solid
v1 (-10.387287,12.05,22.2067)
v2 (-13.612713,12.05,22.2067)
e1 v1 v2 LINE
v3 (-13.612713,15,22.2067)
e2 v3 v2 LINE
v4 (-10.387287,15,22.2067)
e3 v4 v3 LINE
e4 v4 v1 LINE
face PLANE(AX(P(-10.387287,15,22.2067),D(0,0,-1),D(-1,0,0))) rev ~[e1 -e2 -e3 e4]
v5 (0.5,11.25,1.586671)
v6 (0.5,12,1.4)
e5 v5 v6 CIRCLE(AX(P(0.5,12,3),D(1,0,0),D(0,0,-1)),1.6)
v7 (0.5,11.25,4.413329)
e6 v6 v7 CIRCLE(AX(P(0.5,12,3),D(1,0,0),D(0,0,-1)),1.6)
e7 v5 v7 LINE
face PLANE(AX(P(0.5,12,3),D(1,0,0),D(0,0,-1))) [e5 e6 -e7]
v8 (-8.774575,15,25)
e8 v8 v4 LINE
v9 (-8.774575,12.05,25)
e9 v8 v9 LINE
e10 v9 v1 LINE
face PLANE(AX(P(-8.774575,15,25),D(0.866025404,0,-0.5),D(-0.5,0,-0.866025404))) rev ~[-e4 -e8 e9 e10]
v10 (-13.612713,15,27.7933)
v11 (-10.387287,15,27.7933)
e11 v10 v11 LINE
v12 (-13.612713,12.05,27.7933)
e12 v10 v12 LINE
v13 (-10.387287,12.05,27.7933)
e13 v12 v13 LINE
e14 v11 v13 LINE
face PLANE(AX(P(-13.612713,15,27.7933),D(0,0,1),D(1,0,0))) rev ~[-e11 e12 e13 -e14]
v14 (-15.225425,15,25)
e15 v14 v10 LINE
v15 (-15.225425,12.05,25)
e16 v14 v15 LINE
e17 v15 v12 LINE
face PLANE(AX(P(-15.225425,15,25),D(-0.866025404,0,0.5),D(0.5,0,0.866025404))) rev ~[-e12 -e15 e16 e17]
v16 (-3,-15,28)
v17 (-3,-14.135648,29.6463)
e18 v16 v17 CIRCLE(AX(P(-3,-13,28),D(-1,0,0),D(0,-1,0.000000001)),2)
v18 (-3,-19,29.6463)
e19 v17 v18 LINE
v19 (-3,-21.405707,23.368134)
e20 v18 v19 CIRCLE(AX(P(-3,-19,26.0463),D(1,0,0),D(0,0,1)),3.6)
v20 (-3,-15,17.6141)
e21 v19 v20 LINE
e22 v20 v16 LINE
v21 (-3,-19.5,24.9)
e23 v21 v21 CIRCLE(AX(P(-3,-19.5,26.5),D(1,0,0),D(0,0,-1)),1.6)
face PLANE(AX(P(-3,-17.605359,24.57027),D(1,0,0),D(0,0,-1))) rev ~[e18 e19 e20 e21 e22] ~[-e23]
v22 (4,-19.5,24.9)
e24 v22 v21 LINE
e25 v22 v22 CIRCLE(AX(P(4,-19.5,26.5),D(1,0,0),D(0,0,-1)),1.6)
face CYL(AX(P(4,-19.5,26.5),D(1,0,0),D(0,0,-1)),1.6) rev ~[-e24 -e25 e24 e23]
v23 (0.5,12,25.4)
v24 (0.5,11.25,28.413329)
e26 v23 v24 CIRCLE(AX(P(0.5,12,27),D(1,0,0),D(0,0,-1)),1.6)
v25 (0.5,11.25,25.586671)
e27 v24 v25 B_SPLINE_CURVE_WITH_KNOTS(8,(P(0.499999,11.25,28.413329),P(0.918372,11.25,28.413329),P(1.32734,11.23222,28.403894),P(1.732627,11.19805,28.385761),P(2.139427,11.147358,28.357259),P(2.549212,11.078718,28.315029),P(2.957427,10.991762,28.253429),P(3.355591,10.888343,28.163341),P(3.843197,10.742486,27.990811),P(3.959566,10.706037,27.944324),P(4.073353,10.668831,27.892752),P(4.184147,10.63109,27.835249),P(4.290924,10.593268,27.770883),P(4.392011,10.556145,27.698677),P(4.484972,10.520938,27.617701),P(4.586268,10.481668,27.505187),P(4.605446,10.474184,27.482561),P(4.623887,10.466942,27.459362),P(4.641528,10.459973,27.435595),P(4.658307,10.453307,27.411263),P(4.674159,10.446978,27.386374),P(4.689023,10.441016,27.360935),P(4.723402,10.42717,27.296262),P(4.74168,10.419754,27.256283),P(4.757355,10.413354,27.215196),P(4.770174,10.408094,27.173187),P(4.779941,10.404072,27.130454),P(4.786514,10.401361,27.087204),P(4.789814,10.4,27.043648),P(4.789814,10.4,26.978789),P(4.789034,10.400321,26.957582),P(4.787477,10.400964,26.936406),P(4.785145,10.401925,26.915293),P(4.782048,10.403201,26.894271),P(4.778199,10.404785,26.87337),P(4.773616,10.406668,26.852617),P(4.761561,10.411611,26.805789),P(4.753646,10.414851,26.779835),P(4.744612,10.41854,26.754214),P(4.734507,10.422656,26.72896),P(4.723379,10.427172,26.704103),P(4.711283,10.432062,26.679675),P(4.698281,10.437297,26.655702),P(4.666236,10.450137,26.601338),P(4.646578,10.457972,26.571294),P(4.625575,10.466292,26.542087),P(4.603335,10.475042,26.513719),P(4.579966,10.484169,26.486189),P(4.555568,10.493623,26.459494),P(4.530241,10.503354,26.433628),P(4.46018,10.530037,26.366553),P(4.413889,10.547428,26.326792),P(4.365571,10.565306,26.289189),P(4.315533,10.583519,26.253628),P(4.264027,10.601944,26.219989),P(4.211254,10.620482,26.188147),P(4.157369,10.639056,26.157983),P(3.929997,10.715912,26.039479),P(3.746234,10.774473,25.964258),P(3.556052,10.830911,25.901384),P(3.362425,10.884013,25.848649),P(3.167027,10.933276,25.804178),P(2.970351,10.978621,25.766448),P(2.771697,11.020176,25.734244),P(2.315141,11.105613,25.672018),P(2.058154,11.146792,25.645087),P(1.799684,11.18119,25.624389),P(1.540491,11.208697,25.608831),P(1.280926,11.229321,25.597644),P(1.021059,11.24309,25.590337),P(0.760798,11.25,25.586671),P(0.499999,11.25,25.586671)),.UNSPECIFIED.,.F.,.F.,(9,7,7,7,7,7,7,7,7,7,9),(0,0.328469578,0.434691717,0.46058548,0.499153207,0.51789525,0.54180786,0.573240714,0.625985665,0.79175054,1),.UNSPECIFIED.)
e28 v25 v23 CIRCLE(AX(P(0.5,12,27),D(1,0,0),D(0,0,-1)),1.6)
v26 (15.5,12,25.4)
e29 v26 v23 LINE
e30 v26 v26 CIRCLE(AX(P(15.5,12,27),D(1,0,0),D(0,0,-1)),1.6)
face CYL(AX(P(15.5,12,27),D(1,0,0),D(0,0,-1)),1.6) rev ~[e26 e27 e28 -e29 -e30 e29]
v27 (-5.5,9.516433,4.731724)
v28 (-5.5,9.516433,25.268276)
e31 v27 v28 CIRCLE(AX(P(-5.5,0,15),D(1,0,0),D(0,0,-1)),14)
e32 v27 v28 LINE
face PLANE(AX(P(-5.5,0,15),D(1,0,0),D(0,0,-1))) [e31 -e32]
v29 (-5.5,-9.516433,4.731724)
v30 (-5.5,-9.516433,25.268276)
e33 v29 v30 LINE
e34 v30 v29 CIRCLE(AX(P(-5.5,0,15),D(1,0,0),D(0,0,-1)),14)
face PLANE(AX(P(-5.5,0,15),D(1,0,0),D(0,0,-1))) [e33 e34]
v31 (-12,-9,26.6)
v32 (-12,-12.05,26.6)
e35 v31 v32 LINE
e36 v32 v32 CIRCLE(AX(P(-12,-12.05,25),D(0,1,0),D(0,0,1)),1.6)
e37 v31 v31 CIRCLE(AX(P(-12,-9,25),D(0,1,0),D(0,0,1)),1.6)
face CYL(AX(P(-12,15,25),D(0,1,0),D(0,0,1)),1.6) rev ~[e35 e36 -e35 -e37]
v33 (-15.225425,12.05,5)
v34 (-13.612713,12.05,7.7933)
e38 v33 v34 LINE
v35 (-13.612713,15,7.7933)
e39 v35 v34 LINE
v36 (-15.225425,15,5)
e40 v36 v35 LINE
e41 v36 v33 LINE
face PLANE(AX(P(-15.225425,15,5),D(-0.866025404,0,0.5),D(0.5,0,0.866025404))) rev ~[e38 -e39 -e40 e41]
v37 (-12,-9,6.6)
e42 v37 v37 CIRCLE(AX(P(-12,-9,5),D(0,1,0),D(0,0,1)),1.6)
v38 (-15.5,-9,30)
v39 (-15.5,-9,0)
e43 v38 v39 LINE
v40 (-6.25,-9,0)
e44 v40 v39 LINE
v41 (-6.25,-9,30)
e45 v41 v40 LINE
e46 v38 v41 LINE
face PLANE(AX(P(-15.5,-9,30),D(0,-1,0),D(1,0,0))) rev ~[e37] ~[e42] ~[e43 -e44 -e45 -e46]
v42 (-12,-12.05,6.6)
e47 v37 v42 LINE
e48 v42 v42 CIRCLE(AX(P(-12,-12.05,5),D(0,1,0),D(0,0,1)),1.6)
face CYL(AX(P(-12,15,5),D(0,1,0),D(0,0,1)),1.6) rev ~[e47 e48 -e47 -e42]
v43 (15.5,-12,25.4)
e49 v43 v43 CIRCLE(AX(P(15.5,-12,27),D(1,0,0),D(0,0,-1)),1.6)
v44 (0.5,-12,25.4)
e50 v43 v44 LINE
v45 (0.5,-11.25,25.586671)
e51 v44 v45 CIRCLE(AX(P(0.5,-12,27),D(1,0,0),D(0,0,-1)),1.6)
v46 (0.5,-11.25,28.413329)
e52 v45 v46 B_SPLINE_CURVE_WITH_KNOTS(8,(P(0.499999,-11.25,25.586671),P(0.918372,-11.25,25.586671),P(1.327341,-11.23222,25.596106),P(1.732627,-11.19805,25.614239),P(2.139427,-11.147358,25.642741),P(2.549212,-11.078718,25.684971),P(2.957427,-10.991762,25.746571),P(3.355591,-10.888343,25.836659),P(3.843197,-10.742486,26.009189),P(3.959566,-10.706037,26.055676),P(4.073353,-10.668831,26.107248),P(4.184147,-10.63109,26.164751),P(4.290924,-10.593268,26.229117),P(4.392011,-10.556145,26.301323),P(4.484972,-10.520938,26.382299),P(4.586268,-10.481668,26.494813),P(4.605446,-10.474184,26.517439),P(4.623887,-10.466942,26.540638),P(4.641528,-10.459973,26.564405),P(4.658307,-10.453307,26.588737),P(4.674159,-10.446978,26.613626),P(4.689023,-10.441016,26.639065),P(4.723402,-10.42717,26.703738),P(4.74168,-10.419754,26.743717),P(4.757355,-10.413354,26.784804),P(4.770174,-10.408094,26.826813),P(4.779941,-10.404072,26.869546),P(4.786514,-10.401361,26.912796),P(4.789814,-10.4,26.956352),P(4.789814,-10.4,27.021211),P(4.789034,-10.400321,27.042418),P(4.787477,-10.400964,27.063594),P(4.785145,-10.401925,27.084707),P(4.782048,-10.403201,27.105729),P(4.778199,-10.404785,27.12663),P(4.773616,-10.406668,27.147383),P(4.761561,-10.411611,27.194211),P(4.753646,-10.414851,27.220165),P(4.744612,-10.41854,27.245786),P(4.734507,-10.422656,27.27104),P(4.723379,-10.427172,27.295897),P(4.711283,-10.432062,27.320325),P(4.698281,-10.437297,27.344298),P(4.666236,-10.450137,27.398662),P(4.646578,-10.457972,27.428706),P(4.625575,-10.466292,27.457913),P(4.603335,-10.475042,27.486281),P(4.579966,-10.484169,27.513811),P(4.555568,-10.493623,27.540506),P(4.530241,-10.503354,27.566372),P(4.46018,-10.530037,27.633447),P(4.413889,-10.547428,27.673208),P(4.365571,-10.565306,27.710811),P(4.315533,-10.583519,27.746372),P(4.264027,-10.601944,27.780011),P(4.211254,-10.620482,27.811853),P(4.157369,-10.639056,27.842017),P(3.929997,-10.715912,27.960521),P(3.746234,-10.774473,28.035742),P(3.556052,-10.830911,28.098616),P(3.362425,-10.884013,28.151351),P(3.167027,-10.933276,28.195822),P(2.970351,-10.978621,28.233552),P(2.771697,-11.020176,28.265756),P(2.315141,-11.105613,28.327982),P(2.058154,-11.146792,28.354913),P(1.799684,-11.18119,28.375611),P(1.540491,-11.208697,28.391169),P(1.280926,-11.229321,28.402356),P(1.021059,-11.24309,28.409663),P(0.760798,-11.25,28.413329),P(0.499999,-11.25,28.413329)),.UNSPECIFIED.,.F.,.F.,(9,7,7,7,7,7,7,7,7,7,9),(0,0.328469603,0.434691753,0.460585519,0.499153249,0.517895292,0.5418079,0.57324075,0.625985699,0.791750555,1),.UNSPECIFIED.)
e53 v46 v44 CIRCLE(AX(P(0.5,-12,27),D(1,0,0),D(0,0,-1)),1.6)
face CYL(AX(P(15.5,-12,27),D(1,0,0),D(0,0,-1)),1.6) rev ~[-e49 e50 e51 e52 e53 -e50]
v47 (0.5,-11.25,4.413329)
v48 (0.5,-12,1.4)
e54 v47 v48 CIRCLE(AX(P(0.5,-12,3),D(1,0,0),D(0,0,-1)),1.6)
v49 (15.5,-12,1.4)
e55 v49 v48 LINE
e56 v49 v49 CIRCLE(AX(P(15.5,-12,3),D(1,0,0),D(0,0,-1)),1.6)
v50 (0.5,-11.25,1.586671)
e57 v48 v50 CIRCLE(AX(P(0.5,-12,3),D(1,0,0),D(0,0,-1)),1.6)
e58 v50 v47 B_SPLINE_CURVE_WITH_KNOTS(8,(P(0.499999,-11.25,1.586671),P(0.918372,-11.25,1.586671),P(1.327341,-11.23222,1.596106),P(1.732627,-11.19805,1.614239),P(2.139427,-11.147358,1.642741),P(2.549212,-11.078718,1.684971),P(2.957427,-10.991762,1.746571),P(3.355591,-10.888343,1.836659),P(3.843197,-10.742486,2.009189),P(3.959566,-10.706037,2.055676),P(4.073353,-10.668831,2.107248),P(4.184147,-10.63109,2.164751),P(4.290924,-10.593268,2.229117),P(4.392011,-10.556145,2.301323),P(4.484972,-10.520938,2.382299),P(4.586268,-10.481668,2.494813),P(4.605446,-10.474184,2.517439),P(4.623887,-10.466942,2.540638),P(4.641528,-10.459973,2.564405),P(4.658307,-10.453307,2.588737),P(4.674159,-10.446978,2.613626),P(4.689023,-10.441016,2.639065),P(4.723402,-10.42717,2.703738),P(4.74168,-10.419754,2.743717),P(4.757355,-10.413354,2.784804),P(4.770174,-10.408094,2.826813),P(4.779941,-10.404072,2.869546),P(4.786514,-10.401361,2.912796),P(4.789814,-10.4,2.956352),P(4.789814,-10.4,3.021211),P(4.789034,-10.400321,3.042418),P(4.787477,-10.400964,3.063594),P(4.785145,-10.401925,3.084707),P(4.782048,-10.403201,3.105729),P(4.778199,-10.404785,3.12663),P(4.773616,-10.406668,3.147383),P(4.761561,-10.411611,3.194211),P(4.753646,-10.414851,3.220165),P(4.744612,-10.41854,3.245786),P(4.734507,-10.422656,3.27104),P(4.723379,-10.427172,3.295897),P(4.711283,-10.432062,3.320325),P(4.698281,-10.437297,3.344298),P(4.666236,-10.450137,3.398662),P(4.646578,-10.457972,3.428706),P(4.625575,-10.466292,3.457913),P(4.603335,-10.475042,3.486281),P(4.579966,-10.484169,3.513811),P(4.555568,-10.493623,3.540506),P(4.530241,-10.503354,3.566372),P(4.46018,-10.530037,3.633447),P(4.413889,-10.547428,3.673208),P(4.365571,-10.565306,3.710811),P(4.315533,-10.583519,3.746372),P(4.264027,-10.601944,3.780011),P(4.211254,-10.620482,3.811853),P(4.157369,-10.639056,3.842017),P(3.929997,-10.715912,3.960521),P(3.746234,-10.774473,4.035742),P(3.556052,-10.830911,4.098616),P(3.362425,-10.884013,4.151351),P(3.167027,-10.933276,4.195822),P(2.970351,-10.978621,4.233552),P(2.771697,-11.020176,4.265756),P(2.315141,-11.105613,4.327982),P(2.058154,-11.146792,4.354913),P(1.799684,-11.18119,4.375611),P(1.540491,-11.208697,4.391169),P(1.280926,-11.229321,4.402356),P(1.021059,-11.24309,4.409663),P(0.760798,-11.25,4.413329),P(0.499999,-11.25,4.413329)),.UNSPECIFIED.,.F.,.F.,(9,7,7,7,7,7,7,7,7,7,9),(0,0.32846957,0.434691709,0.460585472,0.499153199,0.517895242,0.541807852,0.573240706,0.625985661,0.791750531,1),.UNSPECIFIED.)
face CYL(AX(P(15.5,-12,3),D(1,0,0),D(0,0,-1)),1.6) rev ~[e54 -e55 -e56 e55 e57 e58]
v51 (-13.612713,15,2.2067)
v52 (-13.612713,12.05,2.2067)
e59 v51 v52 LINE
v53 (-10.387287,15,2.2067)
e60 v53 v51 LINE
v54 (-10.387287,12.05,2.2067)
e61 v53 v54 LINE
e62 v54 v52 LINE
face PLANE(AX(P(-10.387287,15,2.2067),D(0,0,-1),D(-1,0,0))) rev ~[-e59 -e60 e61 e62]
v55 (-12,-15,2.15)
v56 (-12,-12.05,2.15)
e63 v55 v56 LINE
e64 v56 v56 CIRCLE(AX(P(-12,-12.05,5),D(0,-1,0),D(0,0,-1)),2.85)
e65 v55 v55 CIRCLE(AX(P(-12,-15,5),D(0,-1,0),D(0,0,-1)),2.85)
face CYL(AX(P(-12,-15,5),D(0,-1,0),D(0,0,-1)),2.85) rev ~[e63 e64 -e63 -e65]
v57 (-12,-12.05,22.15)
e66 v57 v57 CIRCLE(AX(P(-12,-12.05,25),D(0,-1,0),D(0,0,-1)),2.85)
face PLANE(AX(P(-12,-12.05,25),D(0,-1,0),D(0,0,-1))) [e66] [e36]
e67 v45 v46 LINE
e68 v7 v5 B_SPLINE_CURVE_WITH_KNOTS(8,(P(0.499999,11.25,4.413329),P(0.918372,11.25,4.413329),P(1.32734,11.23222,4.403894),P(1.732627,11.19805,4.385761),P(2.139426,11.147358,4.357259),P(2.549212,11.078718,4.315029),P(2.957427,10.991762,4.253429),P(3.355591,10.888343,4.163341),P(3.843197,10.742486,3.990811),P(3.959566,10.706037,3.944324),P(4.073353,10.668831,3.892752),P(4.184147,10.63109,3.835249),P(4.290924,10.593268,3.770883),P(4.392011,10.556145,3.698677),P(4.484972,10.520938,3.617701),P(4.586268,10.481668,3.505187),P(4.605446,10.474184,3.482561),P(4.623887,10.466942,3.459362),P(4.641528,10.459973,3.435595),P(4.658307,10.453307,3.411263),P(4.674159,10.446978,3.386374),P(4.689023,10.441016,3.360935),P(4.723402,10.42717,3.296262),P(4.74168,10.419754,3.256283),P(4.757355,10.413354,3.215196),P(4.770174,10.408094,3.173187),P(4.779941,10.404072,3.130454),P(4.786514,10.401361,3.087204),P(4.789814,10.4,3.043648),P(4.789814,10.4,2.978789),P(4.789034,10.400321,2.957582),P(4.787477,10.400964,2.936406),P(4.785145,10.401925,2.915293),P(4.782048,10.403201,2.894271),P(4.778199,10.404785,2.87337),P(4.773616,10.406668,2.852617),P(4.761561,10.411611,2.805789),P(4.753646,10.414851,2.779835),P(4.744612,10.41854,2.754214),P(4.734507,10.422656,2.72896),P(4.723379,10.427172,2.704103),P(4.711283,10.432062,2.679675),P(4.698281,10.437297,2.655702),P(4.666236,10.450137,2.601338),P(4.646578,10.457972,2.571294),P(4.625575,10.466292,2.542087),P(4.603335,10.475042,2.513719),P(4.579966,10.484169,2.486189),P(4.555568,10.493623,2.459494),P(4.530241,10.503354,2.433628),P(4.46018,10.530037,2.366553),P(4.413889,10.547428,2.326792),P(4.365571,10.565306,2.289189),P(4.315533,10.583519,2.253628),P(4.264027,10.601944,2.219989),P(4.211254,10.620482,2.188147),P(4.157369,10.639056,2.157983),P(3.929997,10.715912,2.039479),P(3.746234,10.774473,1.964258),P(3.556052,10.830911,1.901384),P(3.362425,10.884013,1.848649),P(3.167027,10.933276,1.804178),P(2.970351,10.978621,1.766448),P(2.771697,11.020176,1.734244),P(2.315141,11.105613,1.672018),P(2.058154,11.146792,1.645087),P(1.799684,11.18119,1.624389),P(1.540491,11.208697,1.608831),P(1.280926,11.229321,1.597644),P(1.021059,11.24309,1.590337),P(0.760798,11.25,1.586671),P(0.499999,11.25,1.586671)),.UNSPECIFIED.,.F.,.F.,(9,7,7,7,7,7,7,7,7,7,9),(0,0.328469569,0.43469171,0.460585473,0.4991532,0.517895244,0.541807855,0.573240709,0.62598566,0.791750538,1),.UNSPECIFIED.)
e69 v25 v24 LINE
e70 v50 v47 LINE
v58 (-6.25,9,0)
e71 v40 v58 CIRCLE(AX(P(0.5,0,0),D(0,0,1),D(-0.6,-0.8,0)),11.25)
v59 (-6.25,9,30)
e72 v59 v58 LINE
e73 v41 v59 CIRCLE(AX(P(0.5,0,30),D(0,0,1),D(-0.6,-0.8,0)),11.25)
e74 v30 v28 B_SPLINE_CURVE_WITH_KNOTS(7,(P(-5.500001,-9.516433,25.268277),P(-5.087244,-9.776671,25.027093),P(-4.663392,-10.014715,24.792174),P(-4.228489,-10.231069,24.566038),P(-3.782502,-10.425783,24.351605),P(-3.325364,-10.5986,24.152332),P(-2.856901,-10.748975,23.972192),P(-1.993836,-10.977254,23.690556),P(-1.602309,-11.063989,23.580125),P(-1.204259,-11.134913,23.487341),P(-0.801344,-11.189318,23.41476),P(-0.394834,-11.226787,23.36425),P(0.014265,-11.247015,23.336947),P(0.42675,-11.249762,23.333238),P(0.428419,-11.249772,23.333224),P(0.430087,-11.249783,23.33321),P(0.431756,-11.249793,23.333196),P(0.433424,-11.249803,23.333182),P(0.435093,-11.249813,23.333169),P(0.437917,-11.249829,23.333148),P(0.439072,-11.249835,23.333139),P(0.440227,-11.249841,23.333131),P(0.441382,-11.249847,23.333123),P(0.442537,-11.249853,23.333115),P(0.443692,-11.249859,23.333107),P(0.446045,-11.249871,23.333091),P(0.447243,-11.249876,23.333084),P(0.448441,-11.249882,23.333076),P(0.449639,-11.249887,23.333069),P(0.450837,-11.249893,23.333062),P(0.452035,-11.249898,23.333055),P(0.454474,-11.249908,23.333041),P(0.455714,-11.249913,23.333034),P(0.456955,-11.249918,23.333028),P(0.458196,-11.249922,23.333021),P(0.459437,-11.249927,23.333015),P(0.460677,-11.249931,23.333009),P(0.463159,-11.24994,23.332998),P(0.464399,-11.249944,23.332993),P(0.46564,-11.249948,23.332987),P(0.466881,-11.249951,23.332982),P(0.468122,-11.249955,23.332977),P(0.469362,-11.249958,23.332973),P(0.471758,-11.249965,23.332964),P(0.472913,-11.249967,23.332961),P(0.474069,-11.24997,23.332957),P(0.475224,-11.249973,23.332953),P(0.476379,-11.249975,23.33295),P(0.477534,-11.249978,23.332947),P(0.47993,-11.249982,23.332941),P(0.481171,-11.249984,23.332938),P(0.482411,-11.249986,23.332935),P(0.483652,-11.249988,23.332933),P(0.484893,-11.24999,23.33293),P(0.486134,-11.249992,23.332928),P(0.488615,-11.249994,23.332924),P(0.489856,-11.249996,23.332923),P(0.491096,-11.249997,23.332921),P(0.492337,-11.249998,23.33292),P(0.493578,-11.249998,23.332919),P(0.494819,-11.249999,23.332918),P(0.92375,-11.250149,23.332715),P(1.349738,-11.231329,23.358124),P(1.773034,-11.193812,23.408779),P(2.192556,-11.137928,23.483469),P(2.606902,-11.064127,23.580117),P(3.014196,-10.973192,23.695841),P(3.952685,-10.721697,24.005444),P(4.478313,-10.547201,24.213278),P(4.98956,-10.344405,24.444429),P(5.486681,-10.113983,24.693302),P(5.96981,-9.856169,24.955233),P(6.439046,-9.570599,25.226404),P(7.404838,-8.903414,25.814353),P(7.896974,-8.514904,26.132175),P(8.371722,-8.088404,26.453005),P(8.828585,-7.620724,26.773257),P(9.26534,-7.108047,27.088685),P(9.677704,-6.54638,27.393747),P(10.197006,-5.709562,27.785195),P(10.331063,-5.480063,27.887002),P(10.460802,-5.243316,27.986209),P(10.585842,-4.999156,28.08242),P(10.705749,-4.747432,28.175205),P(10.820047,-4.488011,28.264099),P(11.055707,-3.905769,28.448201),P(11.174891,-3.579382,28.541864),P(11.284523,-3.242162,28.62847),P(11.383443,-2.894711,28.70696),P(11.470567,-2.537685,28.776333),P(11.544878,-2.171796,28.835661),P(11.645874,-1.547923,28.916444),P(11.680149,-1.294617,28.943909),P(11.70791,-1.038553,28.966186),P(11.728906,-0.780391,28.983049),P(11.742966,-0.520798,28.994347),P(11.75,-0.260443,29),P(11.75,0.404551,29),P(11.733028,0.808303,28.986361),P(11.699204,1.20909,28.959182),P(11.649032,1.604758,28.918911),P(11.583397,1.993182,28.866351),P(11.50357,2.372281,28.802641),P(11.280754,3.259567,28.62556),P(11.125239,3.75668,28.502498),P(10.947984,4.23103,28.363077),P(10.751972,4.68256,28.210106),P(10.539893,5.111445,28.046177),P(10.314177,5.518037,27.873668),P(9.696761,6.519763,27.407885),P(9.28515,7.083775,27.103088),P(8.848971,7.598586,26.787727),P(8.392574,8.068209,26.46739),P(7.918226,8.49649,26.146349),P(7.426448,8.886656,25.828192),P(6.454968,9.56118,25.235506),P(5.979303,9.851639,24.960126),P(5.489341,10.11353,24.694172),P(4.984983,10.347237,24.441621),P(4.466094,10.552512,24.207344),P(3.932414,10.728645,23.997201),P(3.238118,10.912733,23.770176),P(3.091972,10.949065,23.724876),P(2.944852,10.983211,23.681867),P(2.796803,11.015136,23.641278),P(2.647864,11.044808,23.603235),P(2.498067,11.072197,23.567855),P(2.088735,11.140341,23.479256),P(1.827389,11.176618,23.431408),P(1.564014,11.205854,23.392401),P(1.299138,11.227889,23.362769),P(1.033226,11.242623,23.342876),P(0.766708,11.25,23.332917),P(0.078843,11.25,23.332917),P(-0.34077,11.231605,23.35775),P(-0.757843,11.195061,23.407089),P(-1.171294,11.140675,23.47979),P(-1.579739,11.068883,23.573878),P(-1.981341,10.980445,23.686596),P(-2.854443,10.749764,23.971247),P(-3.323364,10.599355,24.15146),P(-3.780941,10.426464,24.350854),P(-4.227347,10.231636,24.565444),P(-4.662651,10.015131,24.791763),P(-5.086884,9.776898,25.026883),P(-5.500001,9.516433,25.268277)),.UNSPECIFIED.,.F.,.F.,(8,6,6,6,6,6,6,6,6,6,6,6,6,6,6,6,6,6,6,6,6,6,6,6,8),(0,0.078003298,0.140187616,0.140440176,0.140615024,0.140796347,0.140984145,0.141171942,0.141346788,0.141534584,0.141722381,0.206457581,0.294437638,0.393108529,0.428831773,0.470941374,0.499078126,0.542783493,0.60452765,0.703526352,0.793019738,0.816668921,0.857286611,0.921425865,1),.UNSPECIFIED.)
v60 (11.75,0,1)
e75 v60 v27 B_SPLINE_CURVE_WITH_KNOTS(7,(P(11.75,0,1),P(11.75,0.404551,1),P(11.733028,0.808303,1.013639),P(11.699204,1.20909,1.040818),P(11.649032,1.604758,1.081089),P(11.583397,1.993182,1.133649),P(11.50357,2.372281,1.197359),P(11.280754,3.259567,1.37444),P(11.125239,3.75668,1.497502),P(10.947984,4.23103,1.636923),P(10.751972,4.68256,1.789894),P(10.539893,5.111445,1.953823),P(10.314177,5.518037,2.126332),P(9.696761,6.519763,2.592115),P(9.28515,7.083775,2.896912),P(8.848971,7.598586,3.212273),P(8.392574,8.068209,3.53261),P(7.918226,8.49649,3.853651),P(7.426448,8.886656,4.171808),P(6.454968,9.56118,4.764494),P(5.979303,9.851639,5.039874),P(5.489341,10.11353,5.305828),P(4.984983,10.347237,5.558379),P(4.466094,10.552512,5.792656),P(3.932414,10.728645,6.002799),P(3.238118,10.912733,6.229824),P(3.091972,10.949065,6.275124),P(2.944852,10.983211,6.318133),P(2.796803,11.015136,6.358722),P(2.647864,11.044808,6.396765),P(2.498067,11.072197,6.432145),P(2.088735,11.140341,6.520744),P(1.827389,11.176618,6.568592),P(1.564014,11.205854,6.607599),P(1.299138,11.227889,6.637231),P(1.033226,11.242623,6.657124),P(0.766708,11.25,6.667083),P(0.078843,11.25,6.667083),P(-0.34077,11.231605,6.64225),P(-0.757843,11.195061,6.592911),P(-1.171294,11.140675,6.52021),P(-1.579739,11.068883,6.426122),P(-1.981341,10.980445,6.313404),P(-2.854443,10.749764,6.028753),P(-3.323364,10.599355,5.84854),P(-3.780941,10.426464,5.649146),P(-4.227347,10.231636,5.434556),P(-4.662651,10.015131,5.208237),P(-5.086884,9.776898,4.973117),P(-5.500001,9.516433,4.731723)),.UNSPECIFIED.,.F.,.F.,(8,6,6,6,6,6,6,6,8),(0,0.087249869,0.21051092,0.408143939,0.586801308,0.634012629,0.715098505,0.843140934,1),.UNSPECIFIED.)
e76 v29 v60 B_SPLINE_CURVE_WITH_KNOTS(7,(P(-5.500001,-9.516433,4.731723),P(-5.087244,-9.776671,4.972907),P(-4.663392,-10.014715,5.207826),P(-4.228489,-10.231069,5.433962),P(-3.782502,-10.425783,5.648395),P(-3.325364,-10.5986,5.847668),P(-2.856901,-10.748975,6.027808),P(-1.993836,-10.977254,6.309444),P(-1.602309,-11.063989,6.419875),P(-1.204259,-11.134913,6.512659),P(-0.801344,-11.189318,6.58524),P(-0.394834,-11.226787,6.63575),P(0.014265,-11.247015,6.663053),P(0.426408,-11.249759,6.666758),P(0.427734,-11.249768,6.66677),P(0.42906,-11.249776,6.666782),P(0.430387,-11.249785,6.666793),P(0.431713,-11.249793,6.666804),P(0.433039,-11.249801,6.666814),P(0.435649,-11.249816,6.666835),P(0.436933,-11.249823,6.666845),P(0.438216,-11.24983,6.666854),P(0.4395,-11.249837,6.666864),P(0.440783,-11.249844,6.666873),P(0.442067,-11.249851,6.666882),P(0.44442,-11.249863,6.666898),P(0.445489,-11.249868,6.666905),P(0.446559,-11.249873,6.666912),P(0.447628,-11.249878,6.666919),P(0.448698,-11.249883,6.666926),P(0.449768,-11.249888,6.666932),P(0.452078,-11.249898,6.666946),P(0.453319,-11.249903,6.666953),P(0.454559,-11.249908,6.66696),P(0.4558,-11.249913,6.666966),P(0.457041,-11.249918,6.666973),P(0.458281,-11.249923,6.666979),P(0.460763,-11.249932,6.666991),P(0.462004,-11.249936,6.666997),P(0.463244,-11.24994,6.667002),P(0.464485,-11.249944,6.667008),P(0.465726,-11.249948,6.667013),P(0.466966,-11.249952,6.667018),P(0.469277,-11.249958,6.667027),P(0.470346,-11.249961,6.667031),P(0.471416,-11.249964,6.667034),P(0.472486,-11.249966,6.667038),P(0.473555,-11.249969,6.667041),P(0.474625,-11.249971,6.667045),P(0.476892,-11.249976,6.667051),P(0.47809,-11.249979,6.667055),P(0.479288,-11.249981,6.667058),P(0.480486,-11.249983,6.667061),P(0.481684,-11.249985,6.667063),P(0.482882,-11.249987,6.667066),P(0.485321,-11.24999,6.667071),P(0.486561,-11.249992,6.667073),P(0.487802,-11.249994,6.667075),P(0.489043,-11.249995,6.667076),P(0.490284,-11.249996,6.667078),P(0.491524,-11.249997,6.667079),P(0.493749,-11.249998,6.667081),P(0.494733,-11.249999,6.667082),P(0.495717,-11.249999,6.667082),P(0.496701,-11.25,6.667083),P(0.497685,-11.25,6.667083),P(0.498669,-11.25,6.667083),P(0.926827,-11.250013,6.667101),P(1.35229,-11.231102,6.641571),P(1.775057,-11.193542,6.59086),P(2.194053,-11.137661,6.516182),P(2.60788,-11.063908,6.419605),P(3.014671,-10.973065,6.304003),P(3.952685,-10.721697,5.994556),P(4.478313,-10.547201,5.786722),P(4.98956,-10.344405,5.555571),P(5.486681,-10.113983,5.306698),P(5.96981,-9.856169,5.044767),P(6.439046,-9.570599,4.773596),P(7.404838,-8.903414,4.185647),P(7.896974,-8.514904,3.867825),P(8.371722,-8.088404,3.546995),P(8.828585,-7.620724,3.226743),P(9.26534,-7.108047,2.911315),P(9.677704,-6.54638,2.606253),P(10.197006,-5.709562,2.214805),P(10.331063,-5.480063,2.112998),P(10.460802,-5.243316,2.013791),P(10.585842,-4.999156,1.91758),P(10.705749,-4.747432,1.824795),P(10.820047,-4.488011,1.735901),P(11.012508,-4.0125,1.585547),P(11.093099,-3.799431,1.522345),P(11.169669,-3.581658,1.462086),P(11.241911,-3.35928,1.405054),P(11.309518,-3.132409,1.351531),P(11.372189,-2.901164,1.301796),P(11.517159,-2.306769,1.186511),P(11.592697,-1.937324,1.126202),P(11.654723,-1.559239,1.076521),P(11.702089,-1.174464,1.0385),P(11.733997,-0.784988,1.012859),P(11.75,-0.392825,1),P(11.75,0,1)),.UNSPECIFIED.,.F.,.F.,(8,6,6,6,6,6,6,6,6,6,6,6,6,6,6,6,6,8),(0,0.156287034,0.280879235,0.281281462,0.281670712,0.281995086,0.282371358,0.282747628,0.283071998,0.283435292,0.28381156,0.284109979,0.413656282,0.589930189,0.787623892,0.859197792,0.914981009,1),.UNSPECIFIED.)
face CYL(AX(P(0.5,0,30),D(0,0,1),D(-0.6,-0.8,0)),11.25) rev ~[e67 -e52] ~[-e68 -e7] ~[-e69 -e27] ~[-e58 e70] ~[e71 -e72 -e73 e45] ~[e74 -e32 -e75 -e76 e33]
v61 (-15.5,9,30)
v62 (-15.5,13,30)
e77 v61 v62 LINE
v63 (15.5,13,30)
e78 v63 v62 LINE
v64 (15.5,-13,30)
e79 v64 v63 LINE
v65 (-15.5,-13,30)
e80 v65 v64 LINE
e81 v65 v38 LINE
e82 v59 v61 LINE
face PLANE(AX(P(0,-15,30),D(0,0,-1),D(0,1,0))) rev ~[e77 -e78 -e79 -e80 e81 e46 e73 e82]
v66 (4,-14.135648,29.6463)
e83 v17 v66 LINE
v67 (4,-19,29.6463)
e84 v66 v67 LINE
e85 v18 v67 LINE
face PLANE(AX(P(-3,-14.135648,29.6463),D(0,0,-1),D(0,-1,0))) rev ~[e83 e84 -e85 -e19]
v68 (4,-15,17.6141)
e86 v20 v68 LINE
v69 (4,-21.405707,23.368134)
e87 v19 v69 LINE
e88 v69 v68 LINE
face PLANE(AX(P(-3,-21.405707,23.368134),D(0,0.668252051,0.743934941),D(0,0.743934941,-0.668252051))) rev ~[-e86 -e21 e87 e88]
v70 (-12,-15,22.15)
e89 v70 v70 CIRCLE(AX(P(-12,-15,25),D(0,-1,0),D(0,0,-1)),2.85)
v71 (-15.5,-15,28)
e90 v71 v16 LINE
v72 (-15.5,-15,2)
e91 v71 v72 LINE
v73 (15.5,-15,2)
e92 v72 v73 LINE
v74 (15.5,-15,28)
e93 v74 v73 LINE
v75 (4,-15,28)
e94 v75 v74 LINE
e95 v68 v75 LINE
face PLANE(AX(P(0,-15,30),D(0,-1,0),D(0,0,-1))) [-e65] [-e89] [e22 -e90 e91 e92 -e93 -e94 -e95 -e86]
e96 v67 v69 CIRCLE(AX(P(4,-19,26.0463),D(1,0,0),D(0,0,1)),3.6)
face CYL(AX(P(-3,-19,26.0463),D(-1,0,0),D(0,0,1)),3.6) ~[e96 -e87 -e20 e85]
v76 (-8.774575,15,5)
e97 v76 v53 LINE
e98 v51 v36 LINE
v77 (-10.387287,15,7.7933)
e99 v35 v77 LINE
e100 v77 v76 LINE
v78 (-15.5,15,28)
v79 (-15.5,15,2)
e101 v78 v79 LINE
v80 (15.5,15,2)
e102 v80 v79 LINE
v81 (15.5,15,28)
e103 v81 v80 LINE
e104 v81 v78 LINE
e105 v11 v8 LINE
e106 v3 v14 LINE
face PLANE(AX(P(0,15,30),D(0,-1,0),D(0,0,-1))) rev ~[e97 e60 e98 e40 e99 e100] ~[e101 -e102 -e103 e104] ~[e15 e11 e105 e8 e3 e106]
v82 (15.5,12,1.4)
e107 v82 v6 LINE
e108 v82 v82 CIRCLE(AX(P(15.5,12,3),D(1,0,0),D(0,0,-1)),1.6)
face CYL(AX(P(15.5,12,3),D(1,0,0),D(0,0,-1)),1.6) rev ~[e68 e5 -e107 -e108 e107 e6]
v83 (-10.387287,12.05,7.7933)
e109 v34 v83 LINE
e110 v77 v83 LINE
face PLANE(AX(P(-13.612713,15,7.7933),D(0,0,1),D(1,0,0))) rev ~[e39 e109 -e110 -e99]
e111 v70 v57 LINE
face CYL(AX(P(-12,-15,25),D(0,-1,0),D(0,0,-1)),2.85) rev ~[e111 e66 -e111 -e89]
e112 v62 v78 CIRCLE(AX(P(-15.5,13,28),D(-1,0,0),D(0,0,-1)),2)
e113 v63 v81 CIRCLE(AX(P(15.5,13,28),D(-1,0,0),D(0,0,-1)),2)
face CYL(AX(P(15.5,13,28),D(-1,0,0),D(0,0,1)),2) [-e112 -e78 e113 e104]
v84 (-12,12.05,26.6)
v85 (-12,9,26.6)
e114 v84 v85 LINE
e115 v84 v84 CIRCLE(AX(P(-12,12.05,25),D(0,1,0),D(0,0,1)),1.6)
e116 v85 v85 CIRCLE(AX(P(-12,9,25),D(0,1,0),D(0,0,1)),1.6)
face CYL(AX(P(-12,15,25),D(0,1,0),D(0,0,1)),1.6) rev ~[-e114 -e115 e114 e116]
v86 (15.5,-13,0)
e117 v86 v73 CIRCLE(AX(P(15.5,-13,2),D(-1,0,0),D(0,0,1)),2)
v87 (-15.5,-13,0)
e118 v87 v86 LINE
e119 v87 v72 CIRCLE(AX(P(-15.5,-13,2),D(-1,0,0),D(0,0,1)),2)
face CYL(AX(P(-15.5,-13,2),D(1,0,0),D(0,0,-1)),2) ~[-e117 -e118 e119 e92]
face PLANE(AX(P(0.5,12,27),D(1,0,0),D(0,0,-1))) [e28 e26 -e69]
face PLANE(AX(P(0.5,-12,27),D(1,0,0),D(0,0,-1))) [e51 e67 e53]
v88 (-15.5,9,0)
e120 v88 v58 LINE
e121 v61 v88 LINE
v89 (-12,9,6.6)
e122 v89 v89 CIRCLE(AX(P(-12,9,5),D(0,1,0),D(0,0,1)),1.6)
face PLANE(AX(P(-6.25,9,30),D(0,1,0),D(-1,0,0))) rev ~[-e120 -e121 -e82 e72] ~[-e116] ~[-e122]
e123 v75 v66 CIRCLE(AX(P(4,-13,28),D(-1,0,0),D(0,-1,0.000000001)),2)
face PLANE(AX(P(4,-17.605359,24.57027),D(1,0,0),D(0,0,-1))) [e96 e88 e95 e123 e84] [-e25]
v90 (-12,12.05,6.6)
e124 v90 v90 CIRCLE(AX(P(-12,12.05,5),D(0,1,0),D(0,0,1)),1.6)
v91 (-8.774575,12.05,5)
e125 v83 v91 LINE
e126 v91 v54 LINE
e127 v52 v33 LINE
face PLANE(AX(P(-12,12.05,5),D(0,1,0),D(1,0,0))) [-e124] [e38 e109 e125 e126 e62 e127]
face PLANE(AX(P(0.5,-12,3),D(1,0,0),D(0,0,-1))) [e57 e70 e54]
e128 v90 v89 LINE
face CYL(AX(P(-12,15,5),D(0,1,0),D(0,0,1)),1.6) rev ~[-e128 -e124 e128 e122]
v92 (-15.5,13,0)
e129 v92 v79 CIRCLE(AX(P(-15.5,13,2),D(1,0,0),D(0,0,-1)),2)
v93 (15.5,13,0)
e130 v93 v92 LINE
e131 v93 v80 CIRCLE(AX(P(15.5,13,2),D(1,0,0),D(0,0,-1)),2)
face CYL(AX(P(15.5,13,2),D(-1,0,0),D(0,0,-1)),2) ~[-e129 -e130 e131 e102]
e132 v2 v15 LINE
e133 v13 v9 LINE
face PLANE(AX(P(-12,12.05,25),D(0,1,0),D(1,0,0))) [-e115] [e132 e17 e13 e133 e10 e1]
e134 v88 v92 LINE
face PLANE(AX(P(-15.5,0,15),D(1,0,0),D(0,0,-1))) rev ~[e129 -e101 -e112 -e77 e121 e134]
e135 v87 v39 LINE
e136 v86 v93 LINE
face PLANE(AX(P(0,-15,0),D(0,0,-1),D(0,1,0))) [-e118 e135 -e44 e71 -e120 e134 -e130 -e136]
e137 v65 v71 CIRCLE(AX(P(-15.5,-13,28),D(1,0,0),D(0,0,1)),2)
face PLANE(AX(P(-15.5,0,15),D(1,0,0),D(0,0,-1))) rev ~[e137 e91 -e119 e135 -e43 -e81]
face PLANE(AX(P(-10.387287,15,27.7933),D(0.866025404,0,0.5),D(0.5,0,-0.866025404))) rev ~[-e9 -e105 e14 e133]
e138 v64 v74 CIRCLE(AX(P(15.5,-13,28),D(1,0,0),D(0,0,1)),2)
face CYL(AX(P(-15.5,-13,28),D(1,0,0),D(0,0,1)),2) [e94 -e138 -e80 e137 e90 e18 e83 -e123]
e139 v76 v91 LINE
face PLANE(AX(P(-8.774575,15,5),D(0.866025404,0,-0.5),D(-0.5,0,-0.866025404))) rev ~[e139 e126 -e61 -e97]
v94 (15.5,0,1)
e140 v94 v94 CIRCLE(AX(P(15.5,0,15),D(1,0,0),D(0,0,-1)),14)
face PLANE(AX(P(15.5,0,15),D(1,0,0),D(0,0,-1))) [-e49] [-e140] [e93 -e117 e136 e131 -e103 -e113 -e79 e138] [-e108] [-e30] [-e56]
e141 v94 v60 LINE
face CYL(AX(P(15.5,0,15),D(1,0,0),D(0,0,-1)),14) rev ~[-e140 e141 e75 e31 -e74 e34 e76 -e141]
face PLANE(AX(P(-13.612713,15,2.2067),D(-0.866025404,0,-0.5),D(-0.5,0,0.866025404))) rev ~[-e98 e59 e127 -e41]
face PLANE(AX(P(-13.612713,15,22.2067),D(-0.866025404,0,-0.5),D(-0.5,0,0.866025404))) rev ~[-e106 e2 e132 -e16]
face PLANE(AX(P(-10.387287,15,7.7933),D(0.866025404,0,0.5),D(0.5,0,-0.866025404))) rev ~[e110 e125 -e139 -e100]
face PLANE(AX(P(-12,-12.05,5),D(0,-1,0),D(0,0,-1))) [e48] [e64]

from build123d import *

# Parameters (mm, degrees)
SKETCH1_W           = 30
SKETCH1_H           = 30
BOSS_EXTRUDE1_DEPTH = 15.5
FILLET1_R           = 2
SKETCH2_R           = 14
CUT_EXTRUDE1_DEPTH  = 21
SKETCH3_R           = 1.6
CUT_EXTRUDE2_DEPTH  = 15
CUT_EXTRUDE3_DEPTH  = 37.949289574
SKETCH5_R           = 1.6
CUT_EXTRUDE4_DEPTH  = 46.169126725
CUT_EXTRUDE5_DEPTH  = 2.95
SKETCH7_R           = 2.85
CUT_EXTRUDE6_DEPTH  = 2.95
BOSS_EXTRUDE2_START = -18.5
BOSS_EXTRUDE2_DEPTH = 7
SKETCH9_R           = 1.6
CUT_EXTRUDE7_DEPTH  = 43.320326157


with BuildPart() as part:
    # Sketch1 → Boss-Extrude1 (new, symmetric)
    with BuildSketch(Plane(origin=(0, 0, 0), x_dir=(0, 0, -1), z_dir=(1, 0, 0))):
        with Locations((-15, 0)):
            Rectangle(SKETCH1_W, SKETCH1_H)
    extrude(amount=BOSS_EXTRUDE1_DEPTH, both=True)

    # Fillet1
    fillet1_edges = [part.edges().sort_by_distance(p)[0] for p in [
        (0, -15, 0),
        (0, -15, 30),
        (0, 15, 30),
        (0, 15, 0),
    ]]
    fillet(fillet1_edges, radius=FILLET1_R)

    # Sketch2 → Cut-Extrude1 (cut)
    with BuildSketch(Plane(origin=(15.5, 0, 0), x_dir=(0, 0, -1), z_dir=(1, 0, 0))):
        with Locations((-15, 0)):
            Circle(SKETCH2_R)
    extrude(amount=-CUT_EXTRUDE1_DEPTH, mode=Mode.SUBTRACT)

    # Sketch3 → Cut-Extrude2 (cut)
    with BuildSketch(Plane(origin=(15.5, 0, 0), x_dir=(0, 0, -1), z_dir=(1, 0, 0))):
        with Locations((-27, 12)):
            Circle(SKETCH3_R)
        with Locations((-3, 12)):
            Circle(SKETCH3_R)
        with Locations((-3, -12)):
            Circle(SKETCH3_R)
        with Locations((-27, -12)):
            Circle(SKETCH3_R)
    extrude(amount=-CUT_EXTRUDE2_DEPTH, mode=Mode.SUBTRACT)

    # Sketch4 → Cut-Extrude3 (cut, through all)
    with BuildSketch(Plane.XY.offset(30)):
        with BuildLine():
            Line((-6.25, 9), (-15.5, 9))
            Line((-15.5, 9), (-15.5, -9))
            Line((-15.5, -9), (-6.25, -9))
            ThreePointArc((-6.25, -9), (11.75, 0), (-6.25, 9))
        make_face()
    extrude(amount=-CUT_EXTRUDE3_DEPTH, mode=Mode.SUBTRACT)

    # Sketch5 → Cut-Extrude4 (cut, through all)
    with BuildSketch(Plane(origin=(0, 15, 0), x_dir=(1, 0, 0), z_dir=(0, 1, 0))):
        with Locations(Location((-12, -5, 0), (0, 0, 270))):
            Circle(SKETCH5_R)
        with Locations(Location((-12, -25, 0), (0, 0, 270))):
            Circle(SKETCH5_R)
    extrude(amount=-CUT_EXTRUDE4_DEPTH, mode=Mode.SUBTRACT)

    # Sketch6 → Cut-Extrude5 (cut)
    with BuildSketch(Plane(origin=(0, 15, 0), x_dir=(1, 0, 0), z_dir=(0, 1, 0))):
        Polygon((-10.387287493, -7.7933), (-8.774574986, -5), (-10.387287493, -2.2067), (-13.612712507, -2.2067), (-15.225425014, -5), (-13.612712507, -7.7933), align=None)
        Polygon((-8.774574986, -25), (-10.387287493, -22.2067), (-13.612712507, -22.2067), (-15.225425014, -25), (-13.612712507, -27.7933), (-10.387287493, -27.7933), align=None)
    extrude(amount=-CUT_EXTRUDE5_DEPTH, mode=Mode.SUBTRACT)

    # Sketch7 → Cut-Extrude6 (cut)
    with BuildSketch(Plane.XZ.offset(15)):
        with Locations(Location((-12, 25, 0), (0, 0, 270))):
            Circle(SKETCH7_R)
        with Locations(Location((-12, 5, 0), (0, 0, 270))):
            Circle(SKETCH7_R)
    extrude(amount=-CUT_EXTRUDE6_DEPTH, mode=Mode.SUBTRACT)

    # Sketch8 → Boss-Extrude2 (add)
    with BuildSketch(Plane(origin=(15.5, 0, 0), x_dir=(0, 0, -1), z_dir=(1, 0, 0)).offset(BOSS_EXTRUDE2_START)):
        with BuildLine():
            Line((-29.6463, -14.135647969), (-29.6463, -19))
            ThreePointArc((-29.6463, -19), (-27.334438807, -22.361651144), (-23.368134214, -21.405707385))
            Line((-23.368134214, -21.405707385), (-17.6141, -15))
            Line((-17.6141, -15), (-28, -15))
            ThreePointArc((-28, -15), (-28.929705346, -14.770776092), (-29.6463, -14.135647969))
        make_face()
    extrude(amount=BOSS_EXTRUDE2_DEPTH)

    # Sketch9 → Cut-Extrude7 (cut, through all)
    with BuildSketch(Plane(origin=(4, 0, 0), x_dir=(0, 0, -1), z_dir=(1, 0, 0))):
        with Locations((-26.5, -19.5)):
            Circle(SKETCH9_R)
    extrude(amount=-CUT_EXTRUDE7_DEPTH, mode=Mode.SUBTRACT)


solid = part.part
